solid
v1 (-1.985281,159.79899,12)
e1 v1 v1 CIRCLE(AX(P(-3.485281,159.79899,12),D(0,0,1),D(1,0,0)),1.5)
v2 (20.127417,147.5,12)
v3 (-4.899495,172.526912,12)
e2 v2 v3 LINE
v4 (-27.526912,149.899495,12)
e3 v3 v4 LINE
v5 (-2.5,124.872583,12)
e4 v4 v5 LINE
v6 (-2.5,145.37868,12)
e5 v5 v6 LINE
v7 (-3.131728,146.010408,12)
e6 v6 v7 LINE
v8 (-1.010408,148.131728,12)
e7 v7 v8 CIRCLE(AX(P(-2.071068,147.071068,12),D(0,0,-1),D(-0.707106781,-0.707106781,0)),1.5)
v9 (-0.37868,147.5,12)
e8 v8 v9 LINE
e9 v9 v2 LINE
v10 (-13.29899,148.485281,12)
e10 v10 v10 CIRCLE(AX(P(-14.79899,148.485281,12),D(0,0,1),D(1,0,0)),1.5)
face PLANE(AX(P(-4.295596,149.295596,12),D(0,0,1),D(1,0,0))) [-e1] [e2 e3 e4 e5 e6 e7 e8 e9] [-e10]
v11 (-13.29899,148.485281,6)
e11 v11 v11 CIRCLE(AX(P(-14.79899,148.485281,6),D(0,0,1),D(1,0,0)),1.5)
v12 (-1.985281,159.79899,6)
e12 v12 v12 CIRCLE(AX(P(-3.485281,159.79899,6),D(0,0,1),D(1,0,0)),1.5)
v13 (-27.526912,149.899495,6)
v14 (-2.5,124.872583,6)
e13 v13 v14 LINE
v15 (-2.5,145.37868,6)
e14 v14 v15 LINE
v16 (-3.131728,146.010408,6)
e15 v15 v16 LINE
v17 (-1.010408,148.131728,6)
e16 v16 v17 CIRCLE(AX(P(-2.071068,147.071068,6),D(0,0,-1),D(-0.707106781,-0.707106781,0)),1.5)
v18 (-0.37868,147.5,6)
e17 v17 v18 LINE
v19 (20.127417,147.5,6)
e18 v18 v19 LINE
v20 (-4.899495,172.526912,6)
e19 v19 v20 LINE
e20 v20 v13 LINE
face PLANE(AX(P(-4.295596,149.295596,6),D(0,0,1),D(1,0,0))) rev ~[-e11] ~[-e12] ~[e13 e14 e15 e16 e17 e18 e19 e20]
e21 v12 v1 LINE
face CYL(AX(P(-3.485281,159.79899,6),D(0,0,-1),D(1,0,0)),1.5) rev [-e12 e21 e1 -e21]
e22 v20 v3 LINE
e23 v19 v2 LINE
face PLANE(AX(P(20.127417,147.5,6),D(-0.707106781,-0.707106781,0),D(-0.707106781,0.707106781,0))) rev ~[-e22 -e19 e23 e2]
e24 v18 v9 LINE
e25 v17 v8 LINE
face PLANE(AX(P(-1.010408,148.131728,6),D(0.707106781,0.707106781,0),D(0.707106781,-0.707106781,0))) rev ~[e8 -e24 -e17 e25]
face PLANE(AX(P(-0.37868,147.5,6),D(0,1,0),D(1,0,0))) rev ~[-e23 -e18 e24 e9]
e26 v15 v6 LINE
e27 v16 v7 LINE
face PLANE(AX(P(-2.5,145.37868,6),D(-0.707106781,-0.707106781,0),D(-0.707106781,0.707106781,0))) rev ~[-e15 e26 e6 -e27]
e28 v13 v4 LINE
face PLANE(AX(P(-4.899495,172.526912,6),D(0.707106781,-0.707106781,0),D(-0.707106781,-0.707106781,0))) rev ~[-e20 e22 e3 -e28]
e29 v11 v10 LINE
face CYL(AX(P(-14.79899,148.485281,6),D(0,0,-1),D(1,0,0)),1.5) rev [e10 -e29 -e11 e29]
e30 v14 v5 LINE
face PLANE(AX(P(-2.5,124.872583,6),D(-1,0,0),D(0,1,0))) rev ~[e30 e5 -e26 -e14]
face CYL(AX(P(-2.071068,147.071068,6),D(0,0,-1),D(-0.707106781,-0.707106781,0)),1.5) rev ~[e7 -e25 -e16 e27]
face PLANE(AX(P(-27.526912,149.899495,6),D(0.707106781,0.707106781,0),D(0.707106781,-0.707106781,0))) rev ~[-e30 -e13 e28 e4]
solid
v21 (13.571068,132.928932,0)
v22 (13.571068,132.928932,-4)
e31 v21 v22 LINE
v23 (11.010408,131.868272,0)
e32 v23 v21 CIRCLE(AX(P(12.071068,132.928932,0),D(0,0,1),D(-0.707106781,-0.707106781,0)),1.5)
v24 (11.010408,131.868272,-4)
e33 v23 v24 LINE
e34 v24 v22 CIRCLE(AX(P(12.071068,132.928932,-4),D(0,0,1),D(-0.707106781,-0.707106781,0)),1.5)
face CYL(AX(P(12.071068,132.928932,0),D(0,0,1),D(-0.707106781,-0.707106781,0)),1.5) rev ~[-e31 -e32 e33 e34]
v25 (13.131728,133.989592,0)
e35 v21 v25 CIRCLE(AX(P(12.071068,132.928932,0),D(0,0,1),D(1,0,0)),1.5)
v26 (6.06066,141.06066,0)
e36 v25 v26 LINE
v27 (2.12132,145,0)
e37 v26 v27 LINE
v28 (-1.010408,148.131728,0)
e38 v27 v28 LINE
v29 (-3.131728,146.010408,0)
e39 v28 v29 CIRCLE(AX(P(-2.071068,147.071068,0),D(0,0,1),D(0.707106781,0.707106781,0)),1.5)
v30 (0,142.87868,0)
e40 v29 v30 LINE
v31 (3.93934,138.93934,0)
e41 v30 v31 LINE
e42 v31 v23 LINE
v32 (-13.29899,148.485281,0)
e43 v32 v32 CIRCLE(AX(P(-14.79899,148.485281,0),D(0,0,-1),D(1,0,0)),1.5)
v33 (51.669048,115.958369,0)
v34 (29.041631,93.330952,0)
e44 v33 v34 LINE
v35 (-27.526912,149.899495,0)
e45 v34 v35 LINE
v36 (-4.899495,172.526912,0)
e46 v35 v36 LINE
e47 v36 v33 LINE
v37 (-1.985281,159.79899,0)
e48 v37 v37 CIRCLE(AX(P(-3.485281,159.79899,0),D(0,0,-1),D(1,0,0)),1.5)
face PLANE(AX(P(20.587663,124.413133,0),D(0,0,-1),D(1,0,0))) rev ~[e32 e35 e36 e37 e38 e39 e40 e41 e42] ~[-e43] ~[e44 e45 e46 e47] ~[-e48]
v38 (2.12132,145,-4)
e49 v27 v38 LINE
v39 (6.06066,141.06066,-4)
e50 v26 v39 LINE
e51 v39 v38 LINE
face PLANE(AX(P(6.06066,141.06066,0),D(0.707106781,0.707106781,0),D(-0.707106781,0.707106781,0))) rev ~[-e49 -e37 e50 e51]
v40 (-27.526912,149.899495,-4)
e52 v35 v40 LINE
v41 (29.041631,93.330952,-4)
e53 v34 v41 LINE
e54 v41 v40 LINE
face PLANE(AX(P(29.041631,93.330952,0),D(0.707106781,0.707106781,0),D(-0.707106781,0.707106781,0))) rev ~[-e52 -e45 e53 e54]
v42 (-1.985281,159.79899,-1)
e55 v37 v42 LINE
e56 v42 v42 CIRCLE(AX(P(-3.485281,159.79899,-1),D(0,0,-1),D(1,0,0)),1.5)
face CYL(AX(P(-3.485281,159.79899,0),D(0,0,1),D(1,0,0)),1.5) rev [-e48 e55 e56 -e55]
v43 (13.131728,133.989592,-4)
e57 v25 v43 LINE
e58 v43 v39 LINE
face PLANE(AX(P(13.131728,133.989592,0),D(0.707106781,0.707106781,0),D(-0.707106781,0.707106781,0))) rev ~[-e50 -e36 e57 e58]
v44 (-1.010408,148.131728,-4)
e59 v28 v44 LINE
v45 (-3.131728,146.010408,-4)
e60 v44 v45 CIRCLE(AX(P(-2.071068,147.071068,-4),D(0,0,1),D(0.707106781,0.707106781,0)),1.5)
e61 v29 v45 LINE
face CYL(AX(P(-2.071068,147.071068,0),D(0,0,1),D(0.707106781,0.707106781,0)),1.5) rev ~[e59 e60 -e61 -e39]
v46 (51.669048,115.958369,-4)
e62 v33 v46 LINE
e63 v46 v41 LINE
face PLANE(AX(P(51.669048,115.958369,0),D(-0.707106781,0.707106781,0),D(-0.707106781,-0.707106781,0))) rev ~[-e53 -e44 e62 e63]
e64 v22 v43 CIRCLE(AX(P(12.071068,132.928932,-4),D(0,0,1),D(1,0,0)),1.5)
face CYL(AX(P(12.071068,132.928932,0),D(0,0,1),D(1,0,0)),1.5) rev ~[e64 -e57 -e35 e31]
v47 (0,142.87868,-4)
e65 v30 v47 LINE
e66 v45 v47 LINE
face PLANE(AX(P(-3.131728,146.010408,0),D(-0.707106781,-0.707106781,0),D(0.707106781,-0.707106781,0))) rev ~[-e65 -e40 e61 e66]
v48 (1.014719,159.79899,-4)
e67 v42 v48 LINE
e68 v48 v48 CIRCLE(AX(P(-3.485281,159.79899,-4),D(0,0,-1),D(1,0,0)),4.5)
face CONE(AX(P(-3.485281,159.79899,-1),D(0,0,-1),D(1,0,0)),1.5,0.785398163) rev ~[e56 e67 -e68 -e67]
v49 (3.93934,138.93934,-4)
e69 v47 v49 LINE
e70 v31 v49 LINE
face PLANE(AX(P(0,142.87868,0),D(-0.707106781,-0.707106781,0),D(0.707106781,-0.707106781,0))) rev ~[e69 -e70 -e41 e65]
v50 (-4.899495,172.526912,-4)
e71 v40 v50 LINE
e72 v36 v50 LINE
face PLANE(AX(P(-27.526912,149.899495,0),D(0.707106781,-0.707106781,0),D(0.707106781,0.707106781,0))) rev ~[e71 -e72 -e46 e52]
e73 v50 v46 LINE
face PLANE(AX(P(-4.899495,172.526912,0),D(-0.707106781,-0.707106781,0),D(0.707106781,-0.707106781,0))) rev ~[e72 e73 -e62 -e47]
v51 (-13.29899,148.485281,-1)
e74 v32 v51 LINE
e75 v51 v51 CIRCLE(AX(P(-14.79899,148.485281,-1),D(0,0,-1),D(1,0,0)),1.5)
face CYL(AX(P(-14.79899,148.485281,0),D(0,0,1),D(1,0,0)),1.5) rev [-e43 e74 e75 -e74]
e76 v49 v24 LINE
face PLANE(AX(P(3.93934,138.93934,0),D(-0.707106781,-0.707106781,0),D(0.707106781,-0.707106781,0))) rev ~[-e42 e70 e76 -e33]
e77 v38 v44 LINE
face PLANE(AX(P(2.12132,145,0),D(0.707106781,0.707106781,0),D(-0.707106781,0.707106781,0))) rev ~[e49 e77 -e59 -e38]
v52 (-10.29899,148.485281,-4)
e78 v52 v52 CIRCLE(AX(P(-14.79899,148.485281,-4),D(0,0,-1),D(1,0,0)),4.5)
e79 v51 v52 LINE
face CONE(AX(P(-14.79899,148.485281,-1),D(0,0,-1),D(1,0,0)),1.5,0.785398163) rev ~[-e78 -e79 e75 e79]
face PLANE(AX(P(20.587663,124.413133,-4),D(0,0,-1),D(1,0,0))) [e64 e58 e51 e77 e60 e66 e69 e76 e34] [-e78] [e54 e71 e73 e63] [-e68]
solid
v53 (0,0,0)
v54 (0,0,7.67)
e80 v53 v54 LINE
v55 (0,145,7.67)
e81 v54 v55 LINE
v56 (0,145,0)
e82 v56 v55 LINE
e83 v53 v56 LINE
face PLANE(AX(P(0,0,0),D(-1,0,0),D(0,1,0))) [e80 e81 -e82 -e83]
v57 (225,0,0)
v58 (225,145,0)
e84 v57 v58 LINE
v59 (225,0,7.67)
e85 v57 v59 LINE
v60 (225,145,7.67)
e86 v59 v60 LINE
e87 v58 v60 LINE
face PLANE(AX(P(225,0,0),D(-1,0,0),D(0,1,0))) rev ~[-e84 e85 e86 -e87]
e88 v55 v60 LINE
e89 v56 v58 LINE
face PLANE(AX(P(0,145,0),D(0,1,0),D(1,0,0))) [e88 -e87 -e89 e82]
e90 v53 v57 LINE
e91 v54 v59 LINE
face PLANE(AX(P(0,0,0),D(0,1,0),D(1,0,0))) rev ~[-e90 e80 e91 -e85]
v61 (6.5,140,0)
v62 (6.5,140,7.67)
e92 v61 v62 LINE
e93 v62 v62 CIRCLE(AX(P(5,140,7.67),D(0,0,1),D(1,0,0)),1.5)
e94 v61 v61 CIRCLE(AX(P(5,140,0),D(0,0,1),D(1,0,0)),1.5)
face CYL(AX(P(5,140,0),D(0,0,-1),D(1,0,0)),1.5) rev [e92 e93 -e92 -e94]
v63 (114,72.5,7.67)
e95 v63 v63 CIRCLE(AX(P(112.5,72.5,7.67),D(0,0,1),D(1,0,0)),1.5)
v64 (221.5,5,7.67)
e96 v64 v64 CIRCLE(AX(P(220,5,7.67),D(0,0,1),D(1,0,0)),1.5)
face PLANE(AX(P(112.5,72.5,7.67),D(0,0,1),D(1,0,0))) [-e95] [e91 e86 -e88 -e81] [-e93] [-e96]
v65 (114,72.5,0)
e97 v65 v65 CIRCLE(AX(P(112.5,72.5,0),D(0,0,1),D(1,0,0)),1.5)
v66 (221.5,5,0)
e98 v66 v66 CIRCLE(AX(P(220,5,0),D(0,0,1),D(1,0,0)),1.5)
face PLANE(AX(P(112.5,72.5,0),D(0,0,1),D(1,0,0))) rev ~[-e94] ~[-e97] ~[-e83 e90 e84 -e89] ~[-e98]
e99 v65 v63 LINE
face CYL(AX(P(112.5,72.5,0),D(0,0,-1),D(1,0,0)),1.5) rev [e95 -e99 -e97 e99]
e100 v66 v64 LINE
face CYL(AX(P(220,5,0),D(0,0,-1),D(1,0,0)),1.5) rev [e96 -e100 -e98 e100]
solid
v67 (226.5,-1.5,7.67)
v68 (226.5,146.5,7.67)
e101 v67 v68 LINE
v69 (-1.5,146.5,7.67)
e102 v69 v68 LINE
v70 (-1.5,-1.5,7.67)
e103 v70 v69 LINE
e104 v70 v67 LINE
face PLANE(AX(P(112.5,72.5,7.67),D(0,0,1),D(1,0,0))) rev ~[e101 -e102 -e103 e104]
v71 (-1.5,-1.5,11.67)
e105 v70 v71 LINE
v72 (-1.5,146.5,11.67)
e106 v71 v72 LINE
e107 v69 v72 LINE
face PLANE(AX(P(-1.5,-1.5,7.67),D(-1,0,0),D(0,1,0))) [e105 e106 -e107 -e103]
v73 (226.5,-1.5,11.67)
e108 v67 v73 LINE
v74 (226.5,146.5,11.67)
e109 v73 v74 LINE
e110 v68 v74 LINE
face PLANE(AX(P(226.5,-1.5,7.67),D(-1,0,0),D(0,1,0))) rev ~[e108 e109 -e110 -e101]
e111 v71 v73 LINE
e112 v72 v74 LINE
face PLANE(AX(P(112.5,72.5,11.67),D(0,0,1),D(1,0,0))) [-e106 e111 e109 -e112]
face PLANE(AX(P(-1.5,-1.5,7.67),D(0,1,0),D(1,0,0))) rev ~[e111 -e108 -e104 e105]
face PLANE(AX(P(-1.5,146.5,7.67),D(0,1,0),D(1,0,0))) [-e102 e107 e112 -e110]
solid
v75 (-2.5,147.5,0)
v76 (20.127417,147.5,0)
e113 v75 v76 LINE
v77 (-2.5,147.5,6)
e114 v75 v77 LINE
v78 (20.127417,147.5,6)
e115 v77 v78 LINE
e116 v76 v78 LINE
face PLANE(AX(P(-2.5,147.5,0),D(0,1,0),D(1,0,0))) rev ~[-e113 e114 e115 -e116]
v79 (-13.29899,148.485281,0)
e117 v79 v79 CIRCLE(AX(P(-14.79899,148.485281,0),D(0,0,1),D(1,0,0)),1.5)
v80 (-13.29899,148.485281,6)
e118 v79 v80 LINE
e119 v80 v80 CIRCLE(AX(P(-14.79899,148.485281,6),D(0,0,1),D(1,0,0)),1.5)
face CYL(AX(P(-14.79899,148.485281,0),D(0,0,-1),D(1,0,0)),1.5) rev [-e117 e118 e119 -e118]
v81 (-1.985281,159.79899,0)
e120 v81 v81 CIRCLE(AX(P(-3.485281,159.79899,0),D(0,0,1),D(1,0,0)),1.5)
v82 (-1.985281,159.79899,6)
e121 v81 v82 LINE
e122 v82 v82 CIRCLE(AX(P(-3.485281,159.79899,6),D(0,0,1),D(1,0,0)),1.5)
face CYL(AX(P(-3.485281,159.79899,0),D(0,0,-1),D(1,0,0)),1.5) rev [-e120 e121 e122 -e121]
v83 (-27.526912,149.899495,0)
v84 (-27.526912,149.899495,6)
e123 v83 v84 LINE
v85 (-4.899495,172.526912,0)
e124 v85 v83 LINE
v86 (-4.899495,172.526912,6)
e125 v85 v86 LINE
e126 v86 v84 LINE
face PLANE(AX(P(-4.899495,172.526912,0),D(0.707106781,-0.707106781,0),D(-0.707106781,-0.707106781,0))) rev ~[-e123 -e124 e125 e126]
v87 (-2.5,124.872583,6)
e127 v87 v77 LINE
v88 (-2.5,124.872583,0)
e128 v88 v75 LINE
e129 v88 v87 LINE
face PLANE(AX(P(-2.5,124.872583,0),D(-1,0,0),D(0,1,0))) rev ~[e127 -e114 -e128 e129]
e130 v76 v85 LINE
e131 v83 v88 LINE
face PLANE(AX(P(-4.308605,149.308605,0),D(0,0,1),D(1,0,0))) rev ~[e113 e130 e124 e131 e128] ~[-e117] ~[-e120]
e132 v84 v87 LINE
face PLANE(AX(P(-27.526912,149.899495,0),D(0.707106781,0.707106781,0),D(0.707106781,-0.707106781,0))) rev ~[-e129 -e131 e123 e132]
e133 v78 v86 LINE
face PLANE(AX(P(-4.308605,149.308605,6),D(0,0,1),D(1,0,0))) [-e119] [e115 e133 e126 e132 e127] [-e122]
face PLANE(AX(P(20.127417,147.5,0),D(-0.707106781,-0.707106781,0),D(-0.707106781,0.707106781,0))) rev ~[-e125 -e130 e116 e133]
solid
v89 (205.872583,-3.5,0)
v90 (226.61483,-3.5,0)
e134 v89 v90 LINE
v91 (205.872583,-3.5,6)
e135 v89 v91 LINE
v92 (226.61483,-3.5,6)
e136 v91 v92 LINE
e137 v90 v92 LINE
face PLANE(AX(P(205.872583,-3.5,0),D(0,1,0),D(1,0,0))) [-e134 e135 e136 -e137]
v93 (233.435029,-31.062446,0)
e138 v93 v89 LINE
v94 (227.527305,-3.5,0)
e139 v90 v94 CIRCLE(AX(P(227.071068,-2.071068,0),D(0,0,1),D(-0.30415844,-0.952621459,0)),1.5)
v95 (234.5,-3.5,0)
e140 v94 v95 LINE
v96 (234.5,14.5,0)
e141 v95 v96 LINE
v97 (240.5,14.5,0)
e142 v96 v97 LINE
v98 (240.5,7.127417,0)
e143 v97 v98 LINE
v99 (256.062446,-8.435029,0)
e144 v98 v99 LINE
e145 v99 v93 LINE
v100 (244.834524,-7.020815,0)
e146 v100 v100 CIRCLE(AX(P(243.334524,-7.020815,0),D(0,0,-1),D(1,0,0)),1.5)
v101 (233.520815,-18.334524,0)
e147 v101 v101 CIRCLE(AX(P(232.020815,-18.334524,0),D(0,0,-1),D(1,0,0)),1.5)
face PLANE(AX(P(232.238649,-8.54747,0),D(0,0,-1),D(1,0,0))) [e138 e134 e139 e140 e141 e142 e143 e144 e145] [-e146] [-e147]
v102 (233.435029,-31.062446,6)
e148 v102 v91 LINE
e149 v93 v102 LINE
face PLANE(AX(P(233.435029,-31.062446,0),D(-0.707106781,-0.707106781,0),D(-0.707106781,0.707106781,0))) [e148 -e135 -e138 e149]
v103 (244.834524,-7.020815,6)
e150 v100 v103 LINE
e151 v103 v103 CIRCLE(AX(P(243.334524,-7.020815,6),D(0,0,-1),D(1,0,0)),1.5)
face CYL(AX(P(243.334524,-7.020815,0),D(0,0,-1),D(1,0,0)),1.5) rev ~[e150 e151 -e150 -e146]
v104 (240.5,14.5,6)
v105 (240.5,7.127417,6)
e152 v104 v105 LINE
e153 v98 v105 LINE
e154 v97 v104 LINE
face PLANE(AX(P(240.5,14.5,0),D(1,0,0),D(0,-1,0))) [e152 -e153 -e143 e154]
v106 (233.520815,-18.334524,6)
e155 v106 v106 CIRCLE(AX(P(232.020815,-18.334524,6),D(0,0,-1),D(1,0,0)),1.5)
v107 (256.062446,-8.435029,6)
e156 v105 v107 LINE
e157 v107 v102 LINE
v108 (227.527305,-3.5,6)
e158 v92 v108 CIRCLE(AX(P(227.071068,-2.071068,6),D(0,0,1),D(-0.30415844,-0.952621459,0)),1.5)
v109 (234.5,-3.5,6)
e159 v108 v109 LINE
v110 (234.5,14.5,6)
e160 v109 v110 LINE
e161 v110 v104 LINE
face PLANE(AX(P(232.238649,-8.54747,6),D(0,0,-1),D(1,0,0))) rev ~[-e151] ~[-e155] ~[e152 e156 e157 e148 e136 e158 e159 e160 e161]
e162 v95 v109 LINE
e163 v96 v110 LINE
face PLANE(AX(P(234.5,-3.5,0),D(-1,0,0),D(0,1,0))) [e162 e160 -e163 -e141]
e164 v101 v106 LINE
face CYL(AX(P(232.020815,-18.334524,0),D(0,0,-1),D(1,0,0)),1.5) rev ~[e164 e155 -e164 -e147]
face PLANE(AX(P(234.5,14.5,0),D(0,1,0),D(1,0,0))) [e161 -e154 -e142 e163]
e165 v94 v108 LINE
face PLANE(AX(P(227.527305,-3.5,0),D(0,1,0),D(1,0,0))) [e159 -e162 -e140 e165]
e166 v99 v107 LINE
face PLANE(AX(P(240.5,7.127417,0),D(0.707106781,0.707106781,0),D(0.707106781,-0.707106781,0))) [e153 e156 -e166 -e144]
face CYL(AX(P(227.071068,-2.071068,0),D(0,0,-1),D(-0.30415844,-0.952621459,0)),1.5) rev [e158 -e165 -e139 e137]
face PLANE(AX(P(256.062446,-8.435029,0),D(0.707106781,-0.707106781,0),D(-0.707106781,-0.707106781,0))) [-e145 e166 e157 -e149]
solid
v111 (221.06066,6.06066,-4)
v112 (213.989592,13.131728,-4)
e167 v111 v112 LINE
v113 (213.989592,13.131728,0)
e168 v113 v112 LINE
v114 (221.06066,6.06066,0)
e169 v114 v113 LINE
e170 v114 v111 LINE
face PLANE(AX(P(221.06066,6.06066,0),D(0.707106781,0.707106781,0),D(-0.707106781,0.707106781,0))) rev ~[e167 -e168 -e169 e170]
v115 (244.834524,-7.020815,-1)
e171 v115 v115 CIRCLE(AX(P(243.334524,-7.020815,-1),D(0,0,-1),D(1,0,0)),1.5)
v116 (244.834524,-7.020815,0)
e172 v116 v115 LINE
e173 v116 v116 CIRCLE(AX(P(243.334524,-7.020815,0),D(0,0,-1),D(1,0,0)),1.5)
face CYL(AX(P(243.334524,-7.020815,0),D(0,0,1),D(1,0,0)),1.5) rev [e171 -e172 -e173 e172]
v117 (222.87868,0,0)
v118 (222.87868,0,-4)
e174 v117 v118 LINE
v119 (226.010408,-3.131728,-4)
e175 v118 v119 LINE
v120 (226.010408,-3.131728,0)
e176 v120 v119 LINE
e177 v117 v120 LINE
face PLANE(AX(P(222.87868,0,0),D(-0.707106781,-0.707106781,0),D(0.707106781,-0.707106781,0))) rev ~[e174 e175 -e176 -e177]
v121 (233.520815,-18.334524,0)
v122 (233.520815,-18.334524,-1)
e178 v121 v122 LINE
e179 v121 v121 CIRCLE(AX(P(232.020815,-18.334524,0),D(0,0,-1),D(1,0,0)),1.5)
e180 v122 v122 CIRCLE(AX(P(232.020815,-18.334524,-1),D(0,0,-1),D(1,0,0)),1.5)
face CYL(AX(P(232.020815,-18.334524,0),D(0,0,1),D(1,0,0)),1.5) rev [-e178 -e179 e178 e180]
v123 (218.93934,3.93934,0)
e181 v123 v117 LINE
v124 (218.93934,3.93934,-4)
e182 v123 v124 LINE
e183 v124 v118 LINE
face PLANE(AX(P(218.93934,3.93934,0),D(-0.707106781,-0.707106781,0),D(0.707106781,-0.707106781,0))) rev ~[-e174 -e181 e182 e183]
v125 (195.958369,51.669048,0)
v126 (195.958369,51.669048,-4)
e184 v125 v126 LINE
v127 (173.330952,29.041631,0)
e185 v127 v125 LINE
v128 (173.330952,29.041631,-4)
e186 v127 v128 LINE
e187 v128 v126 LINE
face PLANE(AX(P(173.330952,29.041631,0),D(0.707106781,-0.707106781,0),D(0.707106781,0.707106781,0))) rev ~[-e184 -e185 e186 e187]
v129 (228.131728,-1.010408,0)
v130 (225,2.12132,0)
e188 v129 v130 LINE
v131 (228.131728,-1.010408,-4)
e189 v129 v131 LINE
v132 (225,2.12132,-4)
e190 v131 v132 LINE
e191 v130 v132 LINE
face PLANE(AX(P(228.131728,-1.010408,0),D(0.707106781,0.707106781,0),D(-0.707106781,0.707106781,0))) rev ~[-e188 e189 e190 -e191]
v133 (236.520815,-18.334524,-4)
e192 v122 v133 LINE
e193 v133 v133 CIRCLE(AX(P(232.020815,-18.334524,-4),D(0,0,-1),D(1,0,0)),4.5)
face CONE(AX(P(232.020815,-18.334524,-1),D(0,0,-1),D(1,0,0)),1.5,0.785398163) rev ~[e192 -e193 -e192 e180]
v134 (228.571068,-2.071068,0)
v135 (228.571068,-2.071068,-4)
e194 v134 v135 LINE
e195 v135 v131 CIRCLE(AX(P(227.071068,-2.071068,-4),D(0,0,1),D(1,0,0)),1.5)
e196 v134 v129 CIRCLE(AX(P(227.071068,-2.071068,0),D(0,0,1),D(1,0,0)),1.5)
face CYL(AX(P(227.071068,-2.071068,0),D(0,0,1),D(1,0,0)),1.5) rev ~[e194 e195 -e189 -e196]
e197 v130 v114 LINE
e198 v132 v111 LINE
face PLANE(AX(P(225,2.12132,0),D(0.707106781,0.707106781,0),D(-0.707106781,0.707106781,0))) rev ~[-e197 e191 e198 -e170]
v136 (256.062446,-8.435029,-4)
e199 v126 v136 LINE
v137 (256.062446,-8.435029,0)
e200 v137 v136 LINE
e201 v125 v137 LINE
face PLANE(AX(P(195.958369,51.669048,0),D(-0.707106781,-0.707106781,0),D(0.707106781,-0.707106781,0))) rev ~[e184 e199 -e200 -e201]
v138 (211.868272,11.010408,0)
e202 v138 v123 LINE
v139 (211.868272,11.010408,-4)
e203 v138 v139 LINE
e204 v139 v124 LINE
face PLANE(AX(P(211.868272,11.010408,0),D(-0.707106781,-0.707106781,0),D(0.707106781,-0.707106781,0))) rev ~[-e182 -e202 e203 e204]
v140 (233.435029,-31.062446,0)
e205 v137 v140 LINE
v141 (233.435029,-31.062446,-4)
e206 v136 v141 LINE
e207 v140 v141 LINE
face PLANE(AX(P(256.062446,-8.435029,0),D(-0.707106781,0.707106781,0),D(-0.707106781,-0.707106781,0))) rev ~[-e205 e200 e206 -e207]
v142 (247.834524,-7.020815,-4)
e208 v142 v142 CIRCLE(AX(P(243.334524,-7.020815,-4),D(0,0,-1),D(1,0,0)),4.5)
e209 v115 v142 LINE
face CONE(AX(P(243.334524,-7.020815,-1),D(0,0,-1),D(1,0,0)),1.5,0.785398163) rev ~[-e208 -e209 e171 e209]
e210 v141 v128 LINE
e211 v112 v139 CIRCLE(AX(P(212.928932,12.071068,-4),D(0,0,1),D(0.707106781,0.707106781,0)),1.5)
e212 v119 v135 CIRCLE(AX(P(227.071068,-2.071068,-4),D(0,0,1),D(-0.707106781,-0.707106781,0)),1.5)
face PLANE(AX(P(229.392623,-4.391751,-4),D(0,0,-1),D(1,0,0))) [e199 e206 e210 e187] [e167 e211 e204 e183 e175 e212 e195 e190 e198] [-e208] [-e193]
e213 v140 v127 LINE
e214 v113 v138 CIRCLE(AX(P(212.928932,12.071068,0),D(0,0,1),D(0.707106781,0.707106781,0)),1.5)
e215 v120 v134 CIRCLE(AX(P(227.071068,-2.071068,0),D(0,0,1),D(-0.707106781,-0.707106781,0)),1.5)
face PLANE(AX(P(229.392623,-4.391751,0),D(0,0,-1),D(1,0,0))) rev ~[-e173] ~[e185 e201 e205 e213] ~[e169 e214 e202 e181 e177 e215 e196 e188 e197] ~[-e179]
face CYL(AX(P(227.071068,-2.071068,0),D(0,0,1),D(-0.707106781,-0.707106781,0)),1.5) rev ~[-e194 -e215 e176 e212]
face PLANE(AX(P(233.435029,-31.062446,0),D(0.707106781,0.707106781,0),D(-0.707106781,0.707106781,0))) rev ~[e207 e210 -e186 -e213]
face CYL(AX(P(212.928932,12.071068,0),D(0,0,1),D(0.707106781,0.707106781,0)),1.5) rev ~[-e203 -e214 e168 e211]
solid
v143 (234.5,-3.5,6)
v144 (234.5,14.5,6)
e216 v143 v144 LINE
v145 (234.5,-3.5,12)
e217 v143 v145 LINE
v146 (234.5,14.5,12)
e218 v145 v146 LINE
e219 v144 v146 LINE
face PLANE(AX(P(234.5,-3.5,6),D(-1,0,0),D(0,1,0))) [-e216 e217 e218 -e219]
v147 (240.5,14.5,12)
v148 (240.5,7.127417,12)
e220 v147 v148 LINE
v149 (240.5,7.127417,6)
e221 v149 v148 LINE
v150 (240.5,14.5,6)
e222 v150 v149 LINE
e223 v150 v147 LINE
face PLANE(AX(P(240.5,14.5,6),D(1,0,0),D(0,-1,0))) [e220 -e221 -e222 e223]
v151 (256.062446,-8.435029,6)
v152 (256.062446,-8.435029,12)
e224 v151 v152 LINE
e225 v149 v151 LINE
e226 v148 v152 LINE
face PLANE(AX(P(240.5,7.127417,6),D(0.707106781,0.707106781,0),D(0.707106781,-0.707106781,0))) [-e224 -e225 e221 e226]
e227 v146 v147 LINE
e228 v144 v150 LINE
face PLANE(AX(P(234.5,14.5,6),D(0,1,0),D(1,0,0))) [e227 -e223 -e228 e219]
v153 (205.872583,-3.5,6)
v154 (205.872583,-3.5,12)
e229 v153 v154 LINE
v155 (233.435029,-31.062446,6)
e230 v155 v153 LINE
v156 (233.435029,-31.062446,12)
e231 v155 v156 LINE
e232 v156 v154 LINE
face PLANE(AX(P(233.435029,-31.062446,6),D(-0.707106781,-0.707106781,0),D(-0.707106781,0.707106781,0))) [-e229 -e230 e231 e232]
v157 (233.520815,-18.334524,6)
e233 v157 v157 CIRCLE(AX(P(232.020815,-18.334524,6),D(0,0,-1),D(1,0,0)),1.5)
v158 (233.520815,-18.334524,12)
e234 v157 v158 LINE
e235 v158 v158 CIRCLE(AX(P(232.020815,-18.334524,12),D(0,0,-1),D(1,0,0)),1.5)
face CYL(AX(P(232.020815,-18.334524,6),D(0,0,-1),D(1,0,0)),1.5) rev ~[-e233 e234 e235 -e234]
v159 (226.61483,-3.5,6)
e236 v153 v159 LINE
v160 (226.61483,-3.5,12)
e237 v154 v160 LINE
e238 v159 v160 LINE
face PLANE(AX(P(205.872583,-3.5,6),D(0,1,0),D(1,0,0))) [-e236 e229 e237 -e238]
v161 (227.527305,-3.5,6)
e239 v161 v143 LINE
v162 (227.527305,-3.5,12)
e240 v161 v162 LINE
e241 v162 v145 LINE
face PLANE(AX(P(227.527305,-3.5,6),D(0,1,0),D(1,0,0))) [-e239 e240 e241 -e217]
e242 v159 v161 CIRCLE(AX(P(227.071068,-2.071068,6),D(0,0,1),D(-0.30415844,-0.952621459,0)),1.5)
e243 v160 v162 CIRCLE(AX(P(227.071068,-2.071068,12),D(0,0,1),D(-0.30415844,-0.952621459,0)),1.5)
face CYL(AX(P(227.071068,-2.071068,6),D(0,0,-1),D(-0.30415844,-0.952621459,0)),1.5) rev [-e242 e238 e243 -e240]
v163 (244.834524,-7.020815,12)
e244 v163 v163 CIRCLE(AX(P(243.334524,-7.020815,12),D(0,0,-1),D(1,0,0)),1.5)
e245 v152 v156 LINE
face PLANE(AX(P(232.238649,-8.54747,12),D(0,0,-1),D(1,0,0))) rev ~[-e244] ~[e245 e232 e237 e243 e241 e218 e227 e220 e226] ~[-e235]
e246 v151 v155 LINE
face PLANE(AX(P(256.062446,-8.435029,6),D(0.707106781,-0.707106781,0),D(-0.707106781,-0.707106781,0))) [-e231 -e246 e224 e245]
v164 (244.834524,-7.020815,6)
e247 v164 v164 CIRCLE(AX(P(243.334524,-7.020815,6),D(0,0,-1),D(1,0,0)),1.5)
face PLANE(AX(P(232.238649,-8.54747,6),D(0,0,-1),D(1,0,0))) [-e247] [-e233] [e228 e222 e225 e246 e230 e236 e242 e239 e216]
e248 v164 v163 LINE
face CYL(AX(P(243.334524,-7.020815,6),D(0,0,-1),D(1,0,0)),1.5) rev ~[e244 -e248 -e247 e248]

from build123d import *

# Parameters (mm, degrees)
F1_W      = 225
F1_H      = 145
F1_R      = 1.5
F2_DEPTH  = 7.67
F3_START  = 7.67
F1_W_2    = 228
F1_H_2    = 148
F3_DEPTH  = 4
F4_R      = 1.5
F5_DEPTH  = 4
F6_DEPTH  = 4
F7_SIZE   = 3
F7_2_SIZE = 3
F8_R      = 1.5
F9_DEPTH  = 6
F10_START = 6
F10_DEPTH = 6
F11_R     = 1.5
F12_DEPTH = 6
F13_START = -6
F13_DEPTH = 6


with BuildPart() as f2:
    # F1 (on Top) → F2 (new body)
    with BuildSketch(Plane.XY):
        with Locations((112.5, 72.5)):
            Rectangle(F1_W, F1_H)
        with Locations((220, 5)):
            Circle(F1_R, mode=Mode.SUBTRACT)
        with Locations((5, 140)):
            Circle(F1_R, mode=Mode.SUBTRACT)
        with Locations((112.5, 72.5)):
            Circle(F1_R, mode=Mode.SUBTRACT)
    extrude(amount=F2_DEPTH)


with BuildPart() as f3:
    # F1 (on Top) → F3 (new body)
    with BuildSketch(Plane.XY.offset(F3_START)):
        with Locations((112.5, 72.5)):
            Rectangle(F1_W_2, F1_H_2)
        with Locations((112.5, 72.5)):
            Rectangle(F1_W, F1_H, mode=Mode.SUBTRACT)
        with Locations((112.5, 72.5)):
            Rectangle(F1_W, F1_H)
        with Locations((220, 5)):
            Circle(F1_R, mode=Mode.SUBTRACT)
        with Locations((5, 140)):
            Circle(F1_R, mode=Mode.SUBTRACT)
        with Locations((112.5, 72.5)):
            Circle(F1_R, mode=Mode.SUBTRACT)
        with Locations((5, 140)):
            Circle(F1_R)
        with Locations((220, 5)):
            Circle(F1_R)
        with Locations((112.5, 72.5)):
            Circle(F1_R)
    extrude(amount=F3_DEPTH)


with BuildPart() as f5:
    # F4 (on face) → F5 (new body)
    with BuildSketch(Plane(origin=(0, 0, 0), x_dir=(1, 0, 0), z_dir=(0, 0, -1))):
        with BuildLine():
            Line((2.1213203436, -145), (22.627416998, -145))
            Line((22.627416998, -145), (51.6690475583, -115.9583694397))
            Line((51.6690475583, -115.9583694397), (29.0416305603, -93.3309524417))
            Line((29.0416305603, -93.3309524417), (0, -122.372583002))
            Line((0, -122.372583002), (0, -142.8786796564))
            Line((0, -142.8786796564), (3.9393398213, -138.9393398351))
            Line((3.9393398213, -138.9393398351), (11.0104076401, -131.8682720164))
            ThreePointArc((11.0104076401, -131.8682720164), (12.6450929604, -131.5431128894), (13.5710678119, -132.9289321881))
            ThreePointArc((13.5710678119, -132.9289321881), (13.4568871106, -133.5029573367), (13.1317279836, -133.9895923599))
            Line((13.1317279836, -133.9895923599), (6.0606602025, -141.060660141))
            Line((6.0606602025, -141.060660141), (2.1213203436, -145))
        make_face()
        with BuildLine():
            Line((-4.8994949366, -172.5269119346), (22.627416998, -145))
            Line((22.627416998, -145), (2.1213203436, -145))
            Line((2.1213203436, -145), (-1.0104076401, -148.1317279836))
            ThreePointArc((-1.0104076401, -148.1317279836), (-3.1317279836, -148.1317279836), (-3.1317279836, -146.0104076401))
            Line((-3.1317279836, -146.0104076401), (0, -142.8786796564))
            Line((0, -142.8786796564), (0, -122.372583002))
            Line((0, -122.372583002), (-27.5269119346, -149.8994949366))
            Line((-27.5269119346, -149.8994949366), (-4.8994949366, -172.5269119346))
        make_face()
        with Locations((-14.7989898732, -148.4852813742)):
            Circle(F4_R, mode=Mode.SUBTRACT)
        with Locations((-3.4852813742, -159.7989898732)):
            Circle(F4_R, mode=Mode.SUBTRACT)
    extrude(amount=F5_DEPTH)

    # F7#2
    f7_2_edges = [f5.edges().sort_by_distance(p)[0] for p in [
        (-16.29899, 148.485281, -4),
        (-4.985281, 159.79899, -4),
    ]]
    chamfer(f7_2_edges, length=F7_2_SIZE)


with BuildPart() as f6:
    # F4 (on face) → F6 (new body)
    with BuildSketch(Plane(origin=(0, 0, 0), x_dir=(1, 0, 0), z_dir=(0, 0, -1))):
        with BuildLine():
            Line((225, -2.1213203436), (225, -22.627416998))
            Line((225, -22.627416998), (256.0624458405, 8.4350288425))
            Line((256.0624458405, 8.4350288425), (233.4350288425, 31.0624458405))
            Line((233.4350288425, 31.0624458405), (202.372583002, 0))
            Line((202.372583002, 0), (222.8786796564, 0))
            Line((222.8786796564, 0), (226.0104076401, 3.1317279836))
            ThreePointArc((226.0104076401, 3.1317279836), (227.6450929604, 3.4568871106), (228.5710678119, 2.0710678119))
            ThreePointArc((228.5710678119, 2.0710678119), (228.4568871106, 1.4970426633), (228.1317279836, 1.0104076401))
            Line((228.1317279836, 1.0104076401), (225, -2.1213203436))
        make_face()
        with Locations((232.0208152802, 18.3345237792)):
            Circle(F4_R, mode=Mode.SUBTRACT)
        with Locations((243.3345237792, 7.0208152802)):
            Circle(F4_R, mode=Mode.SUBTRACT)
        with BuildLine():
            Line((173.3309524417, -29.0416305603), (195.9583694397, -51.6690475583))
            Line((195.9583694397, -51.6690475583), (225, -22.627416998))
            Line((225, -22.627416998), (225, -2.1213203436))
            Line((225, -2.1213203436), (221.0606601718, -6.0606601718))
            Line((221.0606601718, -6.0606601718), (213.9895923599, -13.1317279836))
            ThreePointArc((213.9895923599, -13.1317279836), (211.8682720164, -13.1317279836), (211.8682720164, -11.0104076401))
            Line((211.8682720164, -11.0104076401), (218.9393398374, -3.939339819))
            Line((218.9393398374, -3.939339819), (222.8786796564, 0))
            Line((222.8786796564, 0), (202.372583002, 0))
            Line((202.372583002, 0), (173.3309524417, -29.0416305603))
        make_face()
    extrude(amount=F6_DEPTH)

    # F7
    f7_edges = [f6.edges().sort_by_distance(p)[0] for p in [
        (230.520815, -18.334524, -4),
        (241.834524, -7.020815, -4),
    ]]
    chamfer(f7_edges, length=F7_SIZE)


with BuildPart() as f9:
    # F8 (on face) → F9 (new body)
    with BuildSketch(Plane.XY):
        Polygon((20.127416998, 147.5), (-4.8994949366, 172.5269119346), (-27.5269119346, 149.8994949366), (-2.5, 124.872583002), (-2.5, 147.5), align=None)
        with Locations((-14.7989898732, 148.4852813742)):
            Circle(F8_R, mode=Mode.SUBTRACT)
        with Locations((-3.4852813742, 159.7989898732)):
            Circle(F8_R, mode=Mode.SUBTRACT)
    extrude(amount=F9_DEPTH)


with BuildPart() as f10:
    # F8 (on face) → F10 (new body)
    with BuildSketch(Plane.XY.offset(F10_START)):
        with BuildLine():
            Line((20.127416998, 147.5), (-4.8994949366, 172.5269119346))
            Line((-4.8994949366, 172.5269119346), (-27.5269119346, 149.8994949366))
            Line((-27.5269119346, 149.8994949366), (-2.5, 124.872583002))
            Line((-2.5, 124.872583002), (-2.5, 145.3786796564))
            Line((-2.5, 145.3786796564), (-3.1317279836, 146.0104076401))
            ThreePointArc((-3.1317279836, 146.0104076401), (-3.1317279836, 148.1317279836), (-1.0104076401, 148.1317279836))
            Line((-1.0104076401, 148.1317279836), (-0.3786796564, 147.5))
            Line((-0.3786796564, 147.5), (20.127416998, 147.5))
        make_face()
        with Locations((-14.7989898732, 148.4852813742)):
            Circle(F8_R, mode=Mode.SUBTRACT)
        with Locations((-3.4852813742, 159.7989898732)):
            Circle(F8_R, mode=Mode.SUBTRACT)
    extrude(amount=F10_DEPTH)


with BuildPart() as f12:
    # F11 (on face) → F12 (new body)
    with BuildSketch(Plane(origin=(0, 0, 0), x_dir=(1, 0, 0), z_dir=(0, 0, -1))):
        with BuildLine():
            Line((233.4350288425, 31.0624458405), (205.872583002, 3.5))
            Line((205.872583002, 3.5), (226.6148301526, 3.5))
            ThreePointArc((226.6148301526, 3.5), (227.0710678119, 3.5710678119), (227.5273054711, 3.5))
            Line((227.5273054711, 3.5), (234.5, 3.5))
            Line((234.5, 3.5), (234.5, -13.127416998))
            Line((234.5, -13.127416998), (240.5, -7.127416998))
            Line((240.5, -7.127416998), (256.0624458405, 8.4350288425))
            Line((256.0624458405, 8.4350288425), (233.4350288425, 31.0624458405))
        make_face()
        with Locations((243.3345237792, 7.0208152802)):
            Circle(F11_R, mode=Mode.SUBTRACT)
        with Locations((232.0208152802, 18.3345237792)):
            Circle(F11_R, mode=Mode.SUBTRACT)
        Polygon((240.5, -14.5), (240.5, -7.127416998), (234.5, -13.127416998), (234.5, -14.5), align=None)
    extrude(amount=-F12_DEPTH)


with BuildPart() as f13:
    # F11 (on face) → F13 (new body)
    with BuildSketch(Plane(origin=(0, 0, 0), x_dir=(1, 0, 0), z_dir=(0, 0, -1)).offset(F13_START)):
        with BuildLine():
            Line((233.4350288425, 31.0624458405), (205.872583002, 3.5))
            Line((205.872583002, 3.5), (226.6148301526, 3.5))
            ThreePointArc((226.6148301526, 3.5), (227.0710678119, 3.5710678119), (227.5273054711, 3.5))
            Line((227.5273054711, 3.5), (234.5, 3.5))
            Line((234.5, 3.5), (234.5, -13.127416998))
            Line((234.5, -13.127416998), (240.5, -7.127416998))
            Line((240.5, -7.127416998), (256.0624458405, 8.4350288425))
            Line((256.0624458405, 8.4350288425), (233.4350288425, 31.0624458405))
        make_face()
        with Locations((243.3345237792, 7.0208152802)):
            Circle(F11_R, mode=Mode.SUBTRACT)
        with Locations((232.0208152802, 18.3345237792)):
            Circle(F11_R, mode=Mode.SUBTRACT)
        Polygon((240.5, -14.5), (240.5, -7.127416998), (234.5, -13.127416998), (234.5, -14.5), align=None)
    extrude(amount=-F13_DEPTH)


solid = Compound([f2.part, f3.part, f5.part, f6.part, f9.part, f10.part, f12.part, f13.part])
